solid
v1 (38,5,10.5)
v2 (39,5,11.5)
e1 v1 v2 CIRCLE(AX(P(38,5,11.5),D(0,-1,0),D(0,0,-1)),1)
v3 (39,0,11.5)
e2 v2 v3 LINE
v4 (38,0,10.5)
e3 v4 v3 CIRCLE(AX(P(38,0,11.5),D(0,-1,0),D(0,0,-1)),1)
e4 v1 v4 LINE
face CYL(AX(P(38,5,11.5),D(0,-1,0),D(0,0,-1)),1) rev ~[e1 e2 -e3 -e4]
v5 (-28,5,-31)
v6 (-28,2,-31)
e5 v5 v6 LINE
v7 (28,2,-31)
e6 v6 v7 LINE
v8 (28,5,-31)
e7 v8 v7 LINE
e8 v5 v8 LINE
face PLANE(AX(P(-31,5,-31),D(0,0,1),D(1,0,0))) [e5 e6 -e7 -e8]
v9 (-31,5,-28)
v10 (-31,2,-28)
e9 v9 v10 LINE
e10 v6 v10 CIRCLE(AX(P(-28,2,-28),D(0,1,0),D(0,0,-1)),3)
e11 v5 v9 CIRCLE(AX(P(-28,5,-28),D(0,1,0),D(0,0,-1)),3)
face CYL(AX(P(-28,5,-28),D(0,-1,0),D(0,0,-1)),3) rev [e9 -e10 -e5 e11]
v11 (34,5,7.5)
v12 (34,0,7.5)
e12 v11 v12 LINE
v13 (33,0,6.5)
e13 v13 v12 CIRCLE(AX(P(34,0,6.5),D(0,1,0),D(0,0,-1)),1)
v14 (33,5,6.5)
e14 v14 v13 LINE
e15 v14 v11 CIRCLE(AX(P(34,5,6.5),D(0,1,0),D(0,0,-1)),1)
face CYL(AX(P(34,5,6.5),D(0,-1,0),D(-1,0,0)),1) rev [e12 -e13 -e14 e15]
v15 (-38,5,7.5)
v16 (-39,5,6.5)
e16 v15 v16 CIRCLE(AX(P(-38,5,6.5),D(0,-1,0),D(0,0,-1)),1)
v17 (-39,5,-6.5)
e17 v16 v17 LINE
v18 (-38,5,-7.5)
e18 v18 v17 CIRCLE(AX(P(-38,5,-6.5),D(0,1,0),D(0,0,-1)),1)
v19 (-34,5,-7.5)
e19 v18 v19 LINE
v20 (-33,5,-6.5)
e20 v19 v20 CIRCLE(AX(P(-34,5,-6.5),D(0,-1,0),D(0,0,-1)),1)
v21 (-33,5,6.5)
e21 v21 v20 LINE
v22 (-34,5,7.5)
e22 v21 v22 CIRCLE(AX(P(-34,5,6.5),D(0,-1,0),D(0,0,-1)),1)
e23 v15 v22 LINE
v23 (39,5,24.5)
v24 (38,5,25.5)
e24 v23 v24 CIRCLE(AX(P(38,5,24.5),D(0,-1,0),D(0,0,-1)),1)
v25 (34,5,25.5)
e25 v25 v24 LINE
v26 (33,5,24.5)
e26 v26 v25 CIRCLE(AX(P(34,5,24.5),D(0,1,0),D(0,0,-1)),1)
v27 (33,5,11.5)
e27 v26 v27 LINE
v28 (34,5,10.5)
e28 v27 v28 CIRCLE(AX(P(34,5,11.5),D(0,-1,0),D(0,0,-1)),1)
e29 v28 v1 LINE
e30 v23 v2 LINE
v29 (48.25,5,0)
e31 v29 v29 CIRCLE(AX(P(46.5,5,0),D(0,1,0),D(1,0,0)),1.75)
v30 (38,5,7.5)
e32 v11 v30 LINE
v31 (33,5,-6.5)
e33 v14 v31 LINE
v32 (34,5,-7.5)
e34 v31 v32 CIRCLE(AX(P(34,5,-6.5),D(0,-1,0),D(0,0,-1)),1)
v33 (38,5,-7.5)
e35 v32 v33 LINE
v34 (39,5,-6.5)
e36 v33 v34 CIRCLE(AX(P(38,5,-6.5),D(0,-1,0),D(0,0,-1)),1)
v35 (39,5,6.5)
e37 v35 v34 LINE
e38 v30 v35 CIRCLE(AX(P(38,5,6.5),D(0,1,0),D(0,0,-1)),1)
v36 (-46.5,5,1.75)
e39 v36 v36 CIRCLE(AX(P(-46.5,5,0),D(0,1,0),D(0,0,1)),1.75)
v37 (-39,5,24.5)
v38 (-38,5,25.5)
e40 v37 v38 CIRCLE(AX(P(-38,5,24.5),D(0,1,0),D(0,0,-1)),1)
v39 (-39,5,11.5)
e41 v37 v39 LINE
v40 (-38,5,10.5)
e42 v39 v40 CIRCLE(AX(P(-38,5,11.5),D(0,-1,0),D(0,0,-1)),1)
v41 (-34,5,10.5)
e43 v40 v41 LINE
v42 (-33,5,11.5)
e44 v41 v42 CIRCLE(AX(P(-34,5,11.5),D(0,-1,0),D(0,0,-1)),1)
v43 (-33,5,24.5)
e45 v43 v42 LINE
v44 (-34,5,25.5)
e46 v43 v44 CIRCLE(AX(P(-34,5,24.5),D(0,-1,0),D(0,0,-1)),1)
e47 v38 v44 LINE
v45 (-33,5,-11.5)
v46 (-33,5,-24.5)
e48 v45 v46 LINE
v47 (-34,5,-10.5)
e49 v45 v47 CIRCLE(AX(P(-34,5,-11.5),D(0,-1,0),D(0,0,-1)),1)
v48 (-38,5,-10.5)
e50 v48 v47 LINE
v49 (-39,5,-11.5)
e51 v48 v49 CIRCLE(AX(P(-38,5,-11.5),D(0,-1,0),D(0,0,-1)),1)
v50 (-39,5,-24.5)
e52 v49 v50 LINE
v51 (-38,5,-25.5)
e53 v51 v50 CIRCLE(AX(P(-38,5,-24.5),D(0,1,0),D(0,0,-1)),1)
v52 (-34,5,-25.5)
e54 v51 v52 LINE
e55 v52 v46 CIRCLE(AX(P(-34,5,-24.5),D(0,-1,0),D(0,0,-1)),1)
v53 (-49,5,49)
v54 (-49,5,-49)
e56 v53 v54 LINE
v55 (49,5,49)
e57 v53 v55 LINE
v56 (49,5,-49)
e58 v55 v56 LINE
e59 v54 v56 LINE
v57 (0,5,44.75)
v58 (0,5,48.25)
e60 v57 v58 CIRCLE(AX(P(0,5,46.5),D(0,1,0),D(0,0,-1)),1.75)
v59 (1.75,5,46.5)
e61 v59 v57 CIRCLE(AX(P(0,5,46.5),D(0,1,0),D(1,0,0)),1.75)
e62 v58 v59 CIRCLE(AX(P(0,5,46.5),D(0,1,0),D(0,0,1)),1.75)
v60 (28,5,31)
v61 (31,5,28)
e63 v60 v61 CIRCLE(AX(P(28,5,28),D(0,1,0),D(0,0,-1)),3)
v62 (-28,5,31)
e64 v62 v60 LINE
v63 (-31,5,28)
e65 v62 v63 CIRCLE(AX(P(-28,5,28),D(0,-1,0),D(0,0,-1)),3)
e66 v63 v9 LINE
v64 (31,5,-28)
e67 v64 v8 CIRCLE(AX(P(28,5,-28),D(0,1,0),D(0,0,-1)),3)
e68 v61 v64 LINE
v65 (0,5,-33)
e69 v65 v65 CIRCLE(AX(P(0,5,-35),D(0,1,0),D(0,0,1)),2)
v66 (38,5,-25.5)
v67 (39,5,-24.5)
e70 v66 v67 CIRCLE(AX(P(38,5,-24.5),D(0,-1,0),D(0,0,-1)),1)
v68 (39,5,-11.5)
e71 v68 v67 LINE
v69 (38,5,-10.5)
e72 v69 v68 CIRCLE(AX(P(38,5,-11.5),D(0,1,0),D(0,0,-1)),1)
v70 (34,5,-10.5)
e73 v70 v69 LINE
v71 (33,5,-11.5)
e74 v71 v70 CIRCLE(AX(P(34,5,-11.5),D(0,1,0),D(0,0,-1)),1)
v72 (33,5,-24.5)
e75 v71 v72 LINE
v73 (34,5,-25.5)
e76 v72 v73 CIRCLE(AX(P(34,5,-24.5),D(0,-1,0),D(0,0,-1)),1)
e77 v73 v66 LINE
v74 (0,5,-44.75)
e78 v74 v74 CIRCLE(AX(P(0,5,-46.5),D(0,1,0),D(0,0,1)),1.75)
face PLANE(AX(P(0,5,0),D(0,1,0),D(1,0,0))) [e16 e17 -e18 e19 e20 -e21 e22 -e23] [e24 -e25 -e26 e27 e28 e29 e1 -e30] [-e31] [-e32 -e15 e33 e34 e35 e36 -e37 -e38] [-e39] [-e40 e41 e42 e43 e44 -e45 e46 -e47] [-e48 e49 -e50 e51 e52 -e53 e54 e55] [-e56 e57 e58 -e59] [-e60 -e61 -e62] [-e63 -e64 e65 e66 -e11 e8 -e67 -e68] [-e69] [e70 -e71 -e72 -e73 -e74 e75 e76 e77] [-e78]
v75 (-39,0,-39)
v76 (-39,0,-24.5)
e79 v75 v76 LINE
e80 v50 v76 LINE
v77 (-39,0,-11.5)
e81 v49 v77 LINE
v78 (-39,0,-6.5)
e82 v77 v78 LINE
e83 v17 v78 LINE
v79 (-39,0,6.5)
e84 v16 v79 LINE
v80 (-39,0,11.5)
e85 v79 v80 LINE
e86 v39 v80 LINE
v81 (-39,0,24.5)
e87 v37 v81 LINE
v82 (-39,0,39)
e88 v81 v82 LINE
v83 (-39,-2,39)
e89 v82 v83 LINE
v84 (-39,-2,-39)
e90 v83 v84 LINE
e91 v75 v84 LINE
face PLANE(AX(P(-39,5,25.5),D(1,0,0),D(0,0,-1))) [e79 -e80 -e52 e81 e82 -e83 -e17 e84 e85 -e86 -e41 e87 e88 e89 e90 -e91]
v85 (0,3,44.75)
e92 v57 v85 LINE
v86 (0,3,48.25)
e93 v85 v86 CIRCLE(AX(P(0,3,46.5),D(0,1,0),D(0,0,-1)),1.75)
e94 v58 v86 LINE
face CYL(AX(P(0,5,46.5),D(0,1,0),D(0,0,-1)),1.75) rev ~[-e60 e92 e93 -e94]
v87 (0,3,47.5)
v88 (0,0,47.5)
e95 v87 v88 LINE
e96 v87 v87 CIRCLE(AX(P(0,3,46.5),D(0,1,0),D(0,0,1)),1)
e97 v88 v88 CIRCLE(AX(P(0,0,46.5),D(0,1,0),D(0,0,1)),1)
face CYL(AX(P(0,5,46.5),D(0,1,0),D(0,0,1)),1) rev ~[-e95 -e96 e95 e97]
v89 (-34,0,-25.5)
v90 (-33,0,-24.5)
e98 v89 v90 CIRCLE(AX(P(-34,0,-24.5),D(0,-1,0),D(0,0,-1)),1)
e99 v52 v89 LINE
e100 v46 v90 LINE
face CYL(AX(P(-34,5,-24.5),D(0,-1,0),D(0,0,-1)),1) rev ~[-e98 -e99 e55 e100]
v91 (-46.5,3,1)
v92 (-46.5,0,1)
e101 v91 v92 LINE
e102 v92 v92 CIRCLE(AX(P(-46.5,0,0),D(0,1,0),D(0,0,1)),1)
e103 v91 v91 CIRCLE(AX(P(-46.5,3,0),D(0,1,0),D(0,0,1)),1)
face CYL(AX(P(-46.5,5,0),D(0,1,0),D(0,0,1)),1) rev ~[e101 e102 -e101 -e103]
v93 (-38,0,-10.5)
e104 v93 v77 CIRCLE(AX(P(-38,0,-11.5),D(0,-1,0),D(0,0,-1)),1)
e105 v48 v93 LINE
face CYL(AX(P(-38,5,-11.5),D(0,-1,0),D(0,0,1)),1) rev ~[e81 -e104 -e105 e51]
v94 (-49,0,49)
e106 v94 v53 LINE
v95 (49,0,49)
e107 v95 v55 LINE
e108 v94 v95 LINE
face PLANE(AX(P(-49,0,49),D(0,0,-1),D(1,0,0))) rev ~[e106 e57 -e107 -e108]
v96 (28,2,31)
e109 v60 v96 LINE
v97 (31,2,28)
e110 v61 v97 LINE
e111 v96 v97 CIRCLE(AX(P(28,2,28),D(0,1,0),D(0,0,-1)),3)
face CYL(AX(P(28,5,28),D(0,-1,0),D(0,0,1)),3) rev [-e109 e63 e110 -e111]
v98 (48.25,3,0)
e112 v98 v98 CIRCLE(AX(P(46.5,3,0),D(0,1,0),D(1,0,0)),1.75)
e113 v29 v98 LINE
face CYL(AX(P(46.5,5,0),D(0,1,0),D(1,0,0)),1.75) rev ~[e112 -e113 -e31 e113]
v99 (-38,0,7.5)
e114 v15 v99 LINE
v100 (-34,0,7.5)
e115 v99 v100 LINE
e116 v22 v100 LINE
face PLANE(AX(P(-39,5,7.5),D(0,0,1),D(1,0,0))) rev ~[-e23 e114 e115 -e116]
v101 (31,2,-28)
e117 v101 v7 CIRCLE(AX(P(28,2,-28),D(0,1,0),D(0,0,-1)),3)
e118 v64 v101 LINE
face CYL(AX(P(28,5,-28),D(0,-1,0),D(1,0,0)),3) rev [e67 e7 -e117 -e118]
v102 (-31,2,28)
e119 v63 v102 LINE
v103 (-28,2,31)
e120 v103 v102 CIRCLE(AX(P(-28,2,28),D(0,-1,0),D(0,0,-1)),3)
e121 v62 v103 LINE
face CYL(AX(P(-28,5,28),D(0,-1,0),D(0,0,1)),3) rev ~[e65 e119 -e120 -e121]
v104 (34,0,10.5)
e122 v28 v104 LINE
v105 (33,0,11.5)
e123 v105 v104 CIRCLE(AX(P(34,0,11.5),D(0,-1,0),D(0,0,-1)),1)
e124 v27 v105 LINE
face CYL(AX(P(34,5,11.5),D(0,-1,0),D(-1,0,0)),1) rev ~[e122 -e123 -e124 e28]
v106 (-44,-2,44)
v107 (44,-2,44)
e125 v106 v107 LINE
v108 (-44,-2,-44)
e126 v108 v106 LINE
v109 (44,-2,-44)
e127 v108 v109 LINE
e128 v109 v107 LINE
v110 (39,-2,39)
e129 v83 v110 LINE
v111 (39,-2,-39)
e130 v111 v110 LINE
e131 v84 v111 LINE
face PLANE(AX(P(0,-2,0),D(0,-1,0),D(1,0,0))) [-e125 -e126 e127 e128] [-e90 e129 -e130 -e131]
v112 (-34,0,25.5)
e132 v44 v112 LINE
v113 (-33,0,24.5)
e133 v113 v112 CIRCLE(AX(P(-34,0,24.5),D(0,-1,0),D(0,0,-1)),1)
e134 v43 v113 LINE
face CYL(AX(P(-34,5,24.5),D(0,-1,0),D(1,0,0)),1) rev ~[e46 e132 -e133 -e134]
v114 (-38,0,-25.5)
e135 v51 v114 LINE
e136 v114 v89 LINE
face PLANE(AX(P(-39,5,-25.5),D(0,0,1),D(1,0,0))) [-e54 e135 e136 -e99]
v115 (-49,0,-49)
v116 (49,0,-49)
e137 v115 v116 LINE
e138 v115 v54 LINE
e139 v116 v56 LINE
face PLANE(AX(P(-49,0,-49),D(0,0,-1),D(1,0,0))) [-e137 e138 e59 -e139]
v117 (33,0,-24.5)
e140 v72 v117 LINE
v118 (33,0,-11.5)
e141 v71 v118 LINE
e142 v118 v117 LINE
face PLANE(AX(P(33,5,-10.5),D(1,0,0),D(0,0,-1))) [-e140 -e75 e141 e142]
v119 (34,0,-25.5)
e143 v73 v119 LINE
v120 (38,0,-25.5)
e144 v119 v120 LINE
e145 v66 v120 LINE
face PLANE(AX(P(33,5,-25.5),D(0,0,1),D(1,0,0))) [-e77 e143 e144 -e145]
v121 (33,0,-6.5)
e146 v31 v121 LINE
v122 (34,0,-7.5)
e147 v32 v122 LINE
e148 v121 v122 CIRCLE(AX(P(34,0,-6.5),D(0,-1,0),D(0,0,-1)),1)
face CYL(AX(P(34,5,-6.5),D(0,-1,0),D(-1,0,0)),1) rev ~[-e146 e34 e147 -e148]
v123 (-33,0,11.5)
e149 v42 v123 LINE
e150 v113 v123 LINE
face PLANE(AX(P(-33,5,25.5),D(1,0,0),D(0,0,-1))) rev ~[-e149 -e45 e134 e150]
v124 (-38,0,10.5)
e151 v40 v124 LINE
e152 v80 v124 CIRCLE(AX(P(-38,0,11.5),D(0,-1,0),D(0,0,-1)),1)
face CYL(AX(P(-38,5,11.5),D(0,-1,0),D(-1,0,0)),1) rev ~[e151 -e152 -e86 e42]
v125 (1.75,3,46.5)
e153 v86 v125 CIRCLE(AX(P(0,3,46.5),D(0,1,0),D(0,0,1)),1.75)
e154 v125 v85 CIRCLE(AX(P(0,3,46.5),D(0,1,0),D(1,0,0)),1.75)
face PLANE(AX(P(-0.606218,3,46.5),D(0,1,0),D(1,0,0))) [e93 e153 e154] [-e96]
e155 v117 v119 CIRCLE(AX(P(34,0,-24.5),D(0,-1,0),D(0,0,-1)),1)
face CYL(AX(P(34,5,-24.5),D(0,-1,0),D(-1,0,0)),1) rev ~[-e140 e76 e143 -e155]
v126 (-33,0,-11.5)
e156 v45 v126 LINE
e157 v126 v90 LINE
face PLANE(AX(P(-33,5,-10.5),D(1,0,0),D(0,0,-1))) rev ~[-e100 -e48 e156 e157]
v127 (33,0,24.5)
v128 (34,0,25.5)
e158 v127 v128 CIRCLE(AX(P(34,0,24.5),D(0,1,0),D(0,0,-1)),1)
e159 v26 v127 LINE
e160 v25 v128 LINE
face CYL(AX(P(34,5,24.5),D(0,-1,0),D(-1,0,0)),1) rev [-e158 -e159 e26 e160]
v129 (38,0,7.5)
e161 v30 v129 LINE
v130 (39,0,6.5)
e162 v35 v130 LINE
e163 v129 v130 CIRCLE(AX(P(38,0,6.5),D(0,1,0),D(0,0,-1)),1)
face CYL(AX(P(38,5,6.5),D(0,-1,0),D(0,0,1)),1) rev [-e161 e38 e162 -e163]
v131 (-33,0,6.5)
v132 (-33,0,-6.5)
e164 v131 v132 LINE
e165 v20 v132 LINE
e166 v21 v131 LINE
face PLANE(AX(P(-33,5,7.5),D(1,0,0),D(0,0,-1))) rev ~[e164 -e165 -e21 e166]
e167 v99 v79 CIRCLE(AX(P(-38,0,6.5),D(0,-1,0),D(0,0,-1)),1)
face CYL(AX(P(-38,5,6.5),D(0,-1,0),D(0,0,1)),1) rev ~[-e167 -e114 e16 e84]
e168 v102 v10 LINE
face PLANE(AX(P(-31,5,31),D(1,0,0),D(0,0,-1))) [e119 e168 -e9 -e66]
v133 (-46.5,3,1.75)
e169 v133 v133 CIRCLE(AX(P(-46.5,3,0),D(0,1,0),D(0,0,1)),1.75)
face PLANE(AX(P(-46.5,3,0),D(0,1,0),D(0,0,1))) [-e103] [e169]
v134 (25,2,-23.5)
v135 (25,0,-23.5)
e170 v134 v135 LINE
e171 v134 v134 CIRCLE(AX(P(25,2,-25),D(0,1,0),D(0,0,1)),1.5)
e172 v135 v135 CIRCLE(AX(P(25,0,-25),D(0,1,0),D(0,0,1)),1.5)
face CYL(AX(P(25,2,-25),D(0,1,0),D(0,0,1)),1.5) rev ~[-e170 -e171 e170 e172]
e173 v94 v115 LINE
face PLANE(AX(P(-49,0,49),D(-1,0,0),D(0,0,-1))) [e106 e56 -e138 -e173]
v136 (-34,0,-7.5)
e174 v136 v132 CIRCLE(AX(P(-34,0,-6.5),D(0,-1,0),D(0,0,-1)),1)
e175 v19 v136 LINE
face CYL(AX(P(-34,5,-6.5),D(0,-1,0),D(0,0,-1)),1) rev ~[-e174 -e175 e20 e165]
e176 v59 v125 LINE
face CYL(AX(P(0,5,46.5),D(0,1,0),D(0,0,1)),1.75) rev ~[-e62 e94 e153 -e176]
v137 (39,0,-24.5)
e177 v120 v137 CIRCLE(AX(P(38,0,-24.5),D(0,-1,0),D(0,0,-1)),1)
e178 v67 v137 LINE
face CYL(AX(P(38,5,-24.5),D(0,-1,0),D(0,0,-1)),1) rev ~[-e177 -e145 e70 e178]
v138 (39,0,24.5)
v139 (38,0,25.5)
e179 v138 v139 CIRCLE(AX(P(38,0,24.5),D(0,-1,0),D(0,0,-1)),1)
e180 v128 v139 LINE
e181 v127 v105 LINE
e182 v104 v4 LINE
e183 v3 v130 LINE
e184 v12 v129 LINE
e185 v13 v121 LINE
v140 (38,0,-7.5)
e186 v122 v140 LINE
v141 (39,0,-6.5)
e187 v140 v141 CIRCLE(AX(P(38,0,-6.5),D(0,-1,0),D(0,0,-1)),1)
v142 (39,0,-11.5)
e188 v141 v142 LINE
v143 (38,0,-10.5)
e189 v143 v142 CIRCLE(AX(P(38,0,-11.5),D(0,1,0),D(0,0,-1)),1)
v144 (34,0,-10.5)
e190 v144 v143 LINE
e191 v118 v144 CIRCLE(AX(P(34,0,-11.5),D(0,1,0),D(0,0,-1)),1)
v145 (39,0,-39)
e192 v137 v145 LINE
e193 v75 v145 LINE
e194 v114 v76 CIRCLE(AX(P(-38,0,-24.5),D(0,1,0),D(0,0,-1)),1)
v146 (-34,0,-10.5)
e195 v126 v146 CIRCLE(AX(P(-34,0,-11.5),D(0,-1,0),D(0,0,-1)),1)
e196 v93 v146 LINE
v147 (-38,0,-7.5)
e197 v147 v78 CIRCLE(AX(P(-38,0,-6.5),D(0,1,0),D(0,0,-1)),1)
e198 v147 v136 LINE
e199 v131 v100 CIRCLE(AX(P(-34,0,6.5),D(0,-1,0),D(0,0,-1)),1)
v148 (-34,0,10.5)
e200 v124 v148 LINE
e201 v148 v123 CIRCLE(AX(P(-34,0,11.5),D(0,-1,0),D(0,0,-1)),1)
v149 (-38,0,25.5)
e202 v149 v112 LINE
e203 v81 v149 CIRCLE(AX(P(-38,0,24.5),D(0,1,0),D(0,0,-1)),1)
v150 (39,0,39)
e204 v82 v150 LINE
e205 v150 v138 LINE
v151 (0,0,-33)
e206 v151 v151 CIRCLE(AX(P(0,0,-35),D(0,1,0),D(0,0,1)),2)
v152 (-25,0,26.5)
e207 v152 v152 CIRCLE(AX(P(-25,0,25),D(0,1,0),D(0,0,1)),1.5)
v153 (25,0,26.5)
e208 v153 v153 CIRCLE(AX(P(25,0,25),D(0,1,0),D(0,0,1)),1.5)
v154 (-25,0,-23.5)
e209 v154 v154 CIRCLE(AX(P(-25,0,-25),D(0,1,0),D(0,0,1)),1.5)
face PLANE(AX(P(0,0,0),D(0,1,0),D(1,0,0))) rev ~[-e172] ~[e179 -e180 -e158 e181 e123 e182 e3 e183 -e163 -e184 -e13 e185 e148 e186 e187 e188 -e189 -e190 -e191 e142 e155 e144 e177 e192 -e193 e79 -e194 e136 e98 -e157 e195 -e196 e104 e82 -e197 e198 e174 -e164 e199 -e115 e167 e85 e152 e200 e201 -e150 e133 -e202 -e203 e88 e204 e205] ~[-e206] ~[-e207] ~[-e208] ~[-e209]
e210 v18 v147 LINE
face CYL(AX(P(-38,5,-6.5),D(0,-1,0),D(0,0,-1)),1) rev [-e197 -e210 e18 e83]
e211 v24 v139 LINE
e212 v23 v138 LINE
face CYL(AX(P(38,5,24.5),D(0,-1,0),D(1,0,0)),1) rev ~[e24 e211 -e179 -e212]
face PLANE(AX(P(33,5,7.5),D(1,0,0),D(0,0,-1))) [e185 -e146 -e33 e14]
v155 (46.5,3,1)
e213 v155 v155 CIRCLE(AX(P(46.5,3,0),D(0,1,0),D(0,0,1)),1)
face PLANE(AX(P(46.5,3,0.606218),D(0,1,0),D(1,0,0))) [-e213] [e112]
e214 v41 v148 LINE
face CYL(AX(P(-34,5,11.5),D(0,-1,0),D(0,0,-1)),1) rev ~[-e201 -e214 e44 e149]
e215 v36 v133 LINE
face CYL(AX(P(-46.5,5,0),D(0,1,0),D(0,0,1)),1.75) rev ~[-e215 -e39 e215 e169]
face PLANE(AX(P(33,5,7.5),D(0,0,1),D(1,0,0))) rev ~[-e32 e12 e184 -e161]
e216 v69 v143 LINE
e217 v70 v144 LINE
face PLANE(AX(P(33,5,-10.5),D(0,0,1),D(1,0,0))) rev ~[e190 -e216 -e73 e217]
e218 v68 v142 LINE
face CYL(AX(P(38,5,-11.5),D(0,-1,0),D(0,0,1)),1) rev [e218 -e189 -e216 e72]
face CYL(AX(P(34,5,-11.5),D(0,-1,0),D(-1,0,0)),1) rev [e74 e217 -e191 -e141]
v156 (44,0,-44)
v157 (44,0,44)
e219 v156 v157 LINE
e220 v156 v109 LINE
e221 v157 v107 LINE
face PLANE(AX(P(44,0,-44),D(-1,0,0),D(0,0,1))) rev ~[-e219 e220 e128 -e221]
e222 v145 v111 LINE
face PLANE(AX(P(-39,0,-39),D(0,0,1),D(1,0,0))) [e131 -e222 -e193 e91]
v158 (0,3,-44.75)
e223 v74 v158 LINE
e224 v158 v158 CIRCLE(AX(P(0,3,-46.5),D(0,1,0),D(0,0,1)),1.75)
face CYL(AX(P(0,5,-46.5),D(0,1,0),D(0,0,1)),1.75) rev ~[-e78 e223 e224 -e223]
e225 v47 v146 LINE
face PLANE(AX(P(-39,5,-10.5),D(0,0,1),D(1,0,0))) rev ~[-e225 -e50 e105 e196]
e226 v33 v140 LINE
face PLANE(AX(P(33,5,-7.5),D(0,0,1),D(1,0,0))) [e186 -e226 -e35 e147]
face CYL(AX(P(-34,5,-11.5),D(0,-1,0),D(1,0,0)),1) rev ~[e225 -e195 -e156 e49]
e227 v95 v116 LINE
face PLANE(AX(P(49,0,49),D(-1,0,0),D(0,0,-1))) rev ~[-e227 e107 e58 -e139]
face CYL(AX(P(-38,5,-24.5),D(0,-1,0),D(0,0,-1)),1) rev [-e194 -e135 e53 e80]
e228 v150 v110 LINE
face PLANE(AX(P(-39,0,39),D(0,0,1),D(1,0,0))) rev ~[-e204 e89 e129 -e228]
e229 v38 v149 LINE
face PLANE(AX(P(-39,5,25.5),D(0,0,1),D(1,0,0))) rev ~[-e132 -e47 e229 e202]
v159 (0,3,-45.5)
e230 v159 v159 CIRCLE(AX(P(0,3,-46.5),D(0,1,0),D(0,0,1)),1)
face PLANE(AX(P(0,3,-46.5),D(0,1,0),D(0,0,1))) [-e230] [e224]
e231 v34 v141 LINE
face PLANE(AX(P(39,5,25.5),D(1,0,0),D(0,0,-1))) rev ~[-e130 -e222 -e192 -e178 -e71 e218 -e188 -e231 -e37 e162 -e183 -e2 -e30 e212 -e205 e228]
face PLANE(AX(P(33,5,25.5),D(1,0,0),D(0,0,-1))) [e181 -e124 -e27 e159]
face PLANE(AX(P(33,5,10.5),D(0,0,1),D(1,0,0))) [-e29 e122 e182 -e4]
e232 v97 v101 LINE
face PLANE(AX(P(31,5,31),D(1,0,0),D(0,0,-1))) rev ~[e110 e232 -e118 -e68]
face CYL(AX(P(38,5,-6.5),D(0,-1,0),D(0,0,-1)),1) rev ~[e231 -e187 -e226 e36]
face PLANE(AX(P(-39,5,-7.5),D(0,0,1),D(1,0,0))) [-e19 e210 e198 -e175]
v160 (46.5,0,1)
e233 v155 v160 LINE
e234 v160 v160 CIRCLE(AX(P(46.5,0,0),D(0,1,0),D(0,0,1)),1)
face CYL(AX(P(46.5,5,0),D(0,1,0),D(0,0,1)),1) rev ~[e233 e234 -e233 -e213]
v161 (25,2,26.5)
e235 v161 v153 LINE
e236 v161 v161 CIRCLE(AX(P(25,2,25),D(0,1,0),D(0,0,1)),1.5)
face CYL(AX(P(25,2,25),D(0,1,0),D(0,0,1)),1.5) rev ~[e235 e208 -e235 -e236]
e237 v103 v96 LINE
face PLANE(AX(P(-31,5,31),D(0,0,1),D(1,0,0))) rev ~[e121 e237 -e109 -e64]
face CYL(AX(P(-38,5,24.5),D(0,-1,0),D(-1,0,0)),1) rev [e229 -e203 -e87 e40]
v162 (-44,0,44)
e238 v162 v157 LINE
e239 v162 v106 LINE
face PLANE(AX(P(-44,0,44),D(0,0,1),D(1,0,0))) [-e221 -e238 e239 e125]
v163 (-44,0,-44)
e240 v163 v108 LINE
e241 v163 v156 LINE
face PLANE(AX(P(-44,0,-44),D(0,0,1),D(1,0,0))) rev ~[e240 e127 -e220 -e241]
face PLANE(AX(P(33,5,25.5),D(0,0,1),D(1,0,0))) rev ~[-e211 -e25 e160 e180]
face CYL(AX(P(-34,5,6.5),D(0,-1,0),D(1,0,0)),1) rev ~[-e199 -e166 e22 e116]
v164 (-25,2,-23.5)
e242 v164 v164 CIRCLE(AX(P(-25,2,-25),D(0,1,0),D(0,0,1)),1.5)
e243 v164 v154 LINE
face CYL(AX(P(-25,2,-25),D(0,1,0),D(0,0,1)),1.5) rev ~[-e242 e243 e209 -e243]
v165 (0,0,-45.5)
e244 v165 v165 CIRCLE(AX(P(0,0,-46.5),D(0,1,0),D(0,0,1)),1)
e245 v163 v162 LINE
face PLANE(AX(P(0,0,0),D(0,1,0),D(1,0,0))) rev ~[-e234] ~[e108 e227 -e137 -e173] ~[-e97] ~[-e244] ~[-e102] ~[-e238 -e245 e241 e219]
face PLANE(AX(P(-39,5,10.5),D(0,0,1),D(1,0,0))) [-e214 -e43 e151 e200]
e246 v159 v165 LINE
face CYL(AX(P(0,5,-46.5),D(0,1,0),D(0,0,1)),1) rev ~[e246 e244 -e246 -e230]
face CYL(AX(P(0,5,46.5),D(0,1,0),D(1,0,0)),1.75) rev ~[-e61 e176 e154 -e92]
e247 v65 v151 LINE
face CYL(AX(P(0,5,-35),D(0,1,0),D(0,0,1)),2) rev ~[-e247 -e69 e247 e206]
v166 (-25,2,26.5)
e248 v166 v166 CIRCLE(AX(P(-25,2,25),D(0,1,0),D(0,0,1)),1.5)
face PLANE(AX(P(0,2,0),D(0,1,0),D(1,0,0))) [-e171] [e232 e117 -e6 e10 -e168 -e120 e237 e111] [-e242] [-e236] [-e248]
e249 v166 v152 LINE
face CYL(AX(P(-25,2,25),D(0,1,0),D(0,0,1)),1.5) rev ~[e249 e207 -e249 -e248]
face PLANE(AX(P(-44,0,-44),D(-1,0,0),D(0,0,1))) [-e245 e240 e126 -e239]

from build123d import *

# Parameters (mm, degrees)
SKETCH1_W           = 98
SKETCH1_H           = 98
BOSS_EXTRUDE2_DEPTH = 5
SKETCH12_W          = 88
SKETCH12_H          = 88
SKETCH12_W_2        = 78
SKETCH12_H_2        = 78
BOSS_EXTRUDE4_DEPTH = 2
SKETCH13_R          = 1.75
CUT_EXTRUDE13_DEPTH = 2
SKETCH14_R          = 1
CUT_EXTRUDE14_DEPTH = 9
SKETCH16_W          = 62
SKETCH16_H          = 62
CUT_EXTRUDE15_DEPTH = 3
FILLET1_R           = 3
SKETCH17_R          = 1.5
CUT_EXTRUDE16_DEPTH = 3
SKETCH23_W          = 6
SKETCH23_H          = 15
CUT_EXTRUDE19_DEPTH = 12
FILLET2_R           = 1
SKETCH24_R          = 2
CUT_EXTRUDE22_DEPTH = 12


with BuildPart() as part:
    # Sketch1 → Boss-Extrude2 (new body)
    with BuildSketch(Plane(origin=(0, 0, 0), x_dir=(1, 0, 0), z_dir=(0, 1, 0))):
        Rectangle(SKETCH1_W, SKETCH1_H)
    extrude(amount=BOSS_EXTRUDE2_DEPTH)

    # Sketch12 → Boss-Extrude4 (add)
    with BuildSketch(Plane.XZ):
        Rectangle(SKETCH12_W, SKETCH12_H)
        Rectangle(SKETCH12_W_2, SKETCH12_H_2, mode=Mode.SUBTRACT)
    extrude(amount=BOSS_EXTRUDE4_DEPTH)

    # Sketch13 → Cut-Extrude13 (cut)
    with BuildSketch(Plane(origin=(0, 5, 0), x_dir=(1, 0, 0), z_dir=(0, 1, 0))):
        with BuildLine():
            ThreePointArc((0, -44.75), (-1.75, -46.5), (0, -48.25))
            Line((0, -48.25), (0, -44.75))
        make_face()
        with BuildLine():
            Line((0, -44.75), (0, -48.25))
            ThreePointArc((0, -48.25), (1.237436867, -47.737436867), (1.75, -46.5))
            ThreePointArc((1.75, -46.5), (1.237436867, -45.262563133), (0, -44.75))
        make_face()
        with Locations(Location((-46.5, 0, 0), (0, 0, 270))):
            Circle(SKETCH13_R)
        with Locations(Location((0, 46.5, 0), (0, 0, 270))):
            Circle(SKETCH13_R)
        with BuildLine():
            ThreePointArc((44.75, 0), (46.5, -1.75), (48.25, 0))
            Line((48.25, 0), (44.75, 0))
        make_face()
        with BuildLine():
            Line((44.75, 0), (48.25, 0))
            ThreePointArc((48.25, 0), (46.5, 1.75), (44.75, 0))
        make_face()
    extrude(amount=-CUT_EXTRUDE13_DEPTH, mode=Mode.SUBTRACT)

    # Sketch14 → Cut-Extrude14 (cut)
    with BuildSketch(Plane(origin=(0, 5, 0), x_dir=(1, 0, 0), z_dir=(0, 1, 0))):
        with Locations(Location((0, -46.5, 0), (0, 0, 270))):
            Circle(SKETCH14_R)
        with Locations(Location((-46.5, 0, 0), (0, 0, 270))):
            Circle(SKETCH14_R)
        with Locations(Location((46.5, 0, 0), (0, 0, 270))):
            Circle(SKETCH14_R)
        with Locations(Location((0, 46.5, 0), (0, 0, 270))):
            Circle(SKETCH14_R)
    extrude(amount=-CUT_EXTRUDE14_DEPTH, mode=Mode.SUBTRACT)

    # Sketch16 → Cut-Extrude15 (cut)
    with BuildSketch(Plane(origin=(0, 5, 0), x_dir=(1, 0, 0), z_dir=(0, 1, 0))):
        Rectangle(SKETCH16_W, SKETCH16_H)
    extrude(amount=-CUT_EXTRUDE15_DEPTH, mode=Mode.SUBTRACT)

    # Fillet1
    fillet1_edges = [part.edges().sort_by_distance(p)[0] for p in [
        (31, 3.5, -31),
        (31, 3.5, 31),
        (-31, 3.5, 31),
        (-31, 3.5, -31),
    ]]
    fillet(fillet1_edges, radius=FILLET1_R)

    # Sketch17 → Cut-Extrude16 (cut)
    with BuildSketch(Plane(origin=(0, 2, 0), x_dir=(1, 0, 0), z_dir=(0, 1, 0))):
        with Locations(Location((25, 25, 0), (0, 0, 270))):
            Circle(SKETCH17_R)
        with Locations(Location((25, -25, 0), (0, 0, 270))):
            Circle(SKETCH17_R)
        with Locations(Location((-25, 25, 0), (0, 0, 270))):
            Circle(SKETCH17_R)
        with Locations(Location((-25, -25, 0), (0, 0, 270))):
            Circle(SKETCH17_R)
    extrude(amount=-CUT_EXTRUDE16_DEPTH, mode=Mode.SUBTRACT)

    # Sketch23 → Cut-Extrude19 (cut)
    with BuildSketch(Plane(origin=(0, 5, 0), x_dir=(1, 0, 0), z_dir=(0, 1, 0))):
        with Locations((36, 18)):
            Rectangle(SKETCH23_W, SKETCH23_H)
        with Locations((36, 0)):
            Rectangle(SKETCH23_W, SKETCH23_H)
        with Locations((36, -18)):
            Rectangle(SKETCH23_W, SKETCH23_H)
        with Locations((-36, 18)):
            Rectangle(SKETCH23_W, SKETCH23_H)
        with Locations((-36, 0)):
            Rectangle(SKETCH23_W, SKETCH23_H)
        with Locations((-36, -18)):
            Rectangle(SKETCH23_W, SKETCH23_H)
    extrude(amount=-CUT_EXTRUDE19_DEPTH, mode=Mode.SUBTRACT)

    # Fillet2
    fillet2_edges = [part.edges().sort_by_distance(p)[0] for p in [
        (39, 2.5, 7.5),
        (33, 2.5, 7.5),
        (33, 2.5, -7.5),
        (39, 2.5, -7.5),
        (39, 2.5, 10.5),
        (39, 2.5, 25.5),
        (33, 2.5, 25.5),
        (33, 2.5, 10.5),
        (-33, 2.5, -25.5),
        (-33, 2.5, -10.5),
        (-39, 2.5, -10.5),
        (-39, 2.5, -25.5),
        (-33, 2.5, -7.5),
        (-33, 2.5, 7.5),
        (-39, 2.5, 7.5),
        (-39, 2.5, -7.5),
        (-39, 2.5, 10.5),
        (-33, 2.5, 10.5),
        (-33, 2.5, 25.5),
        (-39, 2.5, 25.5),
        (39, 2.5, -25.5),
        (39, 2.5, -10.5),
        (33, 2.5, -10.5),
        (33, 2.5, -25.5),
    ]]
    fillet(fillet2_edges, radius=FILLET2_R)

    # Sketch24 → Cut-Extrude22 (cut)
    with BuildSketch(Plane(origin=(0, 5, 0), x_dir=(1, 0, 0), z_dir=(0, 1, 0))):
        with Locations(Location((0, 35, 0), (0, 0, 270))):
            Circle(SKETCH24_R)
    extrude(amount=-CUT_EXTRUDE22_DEPTH, mode=Mode.SUBTRACT)


solid = part.part
